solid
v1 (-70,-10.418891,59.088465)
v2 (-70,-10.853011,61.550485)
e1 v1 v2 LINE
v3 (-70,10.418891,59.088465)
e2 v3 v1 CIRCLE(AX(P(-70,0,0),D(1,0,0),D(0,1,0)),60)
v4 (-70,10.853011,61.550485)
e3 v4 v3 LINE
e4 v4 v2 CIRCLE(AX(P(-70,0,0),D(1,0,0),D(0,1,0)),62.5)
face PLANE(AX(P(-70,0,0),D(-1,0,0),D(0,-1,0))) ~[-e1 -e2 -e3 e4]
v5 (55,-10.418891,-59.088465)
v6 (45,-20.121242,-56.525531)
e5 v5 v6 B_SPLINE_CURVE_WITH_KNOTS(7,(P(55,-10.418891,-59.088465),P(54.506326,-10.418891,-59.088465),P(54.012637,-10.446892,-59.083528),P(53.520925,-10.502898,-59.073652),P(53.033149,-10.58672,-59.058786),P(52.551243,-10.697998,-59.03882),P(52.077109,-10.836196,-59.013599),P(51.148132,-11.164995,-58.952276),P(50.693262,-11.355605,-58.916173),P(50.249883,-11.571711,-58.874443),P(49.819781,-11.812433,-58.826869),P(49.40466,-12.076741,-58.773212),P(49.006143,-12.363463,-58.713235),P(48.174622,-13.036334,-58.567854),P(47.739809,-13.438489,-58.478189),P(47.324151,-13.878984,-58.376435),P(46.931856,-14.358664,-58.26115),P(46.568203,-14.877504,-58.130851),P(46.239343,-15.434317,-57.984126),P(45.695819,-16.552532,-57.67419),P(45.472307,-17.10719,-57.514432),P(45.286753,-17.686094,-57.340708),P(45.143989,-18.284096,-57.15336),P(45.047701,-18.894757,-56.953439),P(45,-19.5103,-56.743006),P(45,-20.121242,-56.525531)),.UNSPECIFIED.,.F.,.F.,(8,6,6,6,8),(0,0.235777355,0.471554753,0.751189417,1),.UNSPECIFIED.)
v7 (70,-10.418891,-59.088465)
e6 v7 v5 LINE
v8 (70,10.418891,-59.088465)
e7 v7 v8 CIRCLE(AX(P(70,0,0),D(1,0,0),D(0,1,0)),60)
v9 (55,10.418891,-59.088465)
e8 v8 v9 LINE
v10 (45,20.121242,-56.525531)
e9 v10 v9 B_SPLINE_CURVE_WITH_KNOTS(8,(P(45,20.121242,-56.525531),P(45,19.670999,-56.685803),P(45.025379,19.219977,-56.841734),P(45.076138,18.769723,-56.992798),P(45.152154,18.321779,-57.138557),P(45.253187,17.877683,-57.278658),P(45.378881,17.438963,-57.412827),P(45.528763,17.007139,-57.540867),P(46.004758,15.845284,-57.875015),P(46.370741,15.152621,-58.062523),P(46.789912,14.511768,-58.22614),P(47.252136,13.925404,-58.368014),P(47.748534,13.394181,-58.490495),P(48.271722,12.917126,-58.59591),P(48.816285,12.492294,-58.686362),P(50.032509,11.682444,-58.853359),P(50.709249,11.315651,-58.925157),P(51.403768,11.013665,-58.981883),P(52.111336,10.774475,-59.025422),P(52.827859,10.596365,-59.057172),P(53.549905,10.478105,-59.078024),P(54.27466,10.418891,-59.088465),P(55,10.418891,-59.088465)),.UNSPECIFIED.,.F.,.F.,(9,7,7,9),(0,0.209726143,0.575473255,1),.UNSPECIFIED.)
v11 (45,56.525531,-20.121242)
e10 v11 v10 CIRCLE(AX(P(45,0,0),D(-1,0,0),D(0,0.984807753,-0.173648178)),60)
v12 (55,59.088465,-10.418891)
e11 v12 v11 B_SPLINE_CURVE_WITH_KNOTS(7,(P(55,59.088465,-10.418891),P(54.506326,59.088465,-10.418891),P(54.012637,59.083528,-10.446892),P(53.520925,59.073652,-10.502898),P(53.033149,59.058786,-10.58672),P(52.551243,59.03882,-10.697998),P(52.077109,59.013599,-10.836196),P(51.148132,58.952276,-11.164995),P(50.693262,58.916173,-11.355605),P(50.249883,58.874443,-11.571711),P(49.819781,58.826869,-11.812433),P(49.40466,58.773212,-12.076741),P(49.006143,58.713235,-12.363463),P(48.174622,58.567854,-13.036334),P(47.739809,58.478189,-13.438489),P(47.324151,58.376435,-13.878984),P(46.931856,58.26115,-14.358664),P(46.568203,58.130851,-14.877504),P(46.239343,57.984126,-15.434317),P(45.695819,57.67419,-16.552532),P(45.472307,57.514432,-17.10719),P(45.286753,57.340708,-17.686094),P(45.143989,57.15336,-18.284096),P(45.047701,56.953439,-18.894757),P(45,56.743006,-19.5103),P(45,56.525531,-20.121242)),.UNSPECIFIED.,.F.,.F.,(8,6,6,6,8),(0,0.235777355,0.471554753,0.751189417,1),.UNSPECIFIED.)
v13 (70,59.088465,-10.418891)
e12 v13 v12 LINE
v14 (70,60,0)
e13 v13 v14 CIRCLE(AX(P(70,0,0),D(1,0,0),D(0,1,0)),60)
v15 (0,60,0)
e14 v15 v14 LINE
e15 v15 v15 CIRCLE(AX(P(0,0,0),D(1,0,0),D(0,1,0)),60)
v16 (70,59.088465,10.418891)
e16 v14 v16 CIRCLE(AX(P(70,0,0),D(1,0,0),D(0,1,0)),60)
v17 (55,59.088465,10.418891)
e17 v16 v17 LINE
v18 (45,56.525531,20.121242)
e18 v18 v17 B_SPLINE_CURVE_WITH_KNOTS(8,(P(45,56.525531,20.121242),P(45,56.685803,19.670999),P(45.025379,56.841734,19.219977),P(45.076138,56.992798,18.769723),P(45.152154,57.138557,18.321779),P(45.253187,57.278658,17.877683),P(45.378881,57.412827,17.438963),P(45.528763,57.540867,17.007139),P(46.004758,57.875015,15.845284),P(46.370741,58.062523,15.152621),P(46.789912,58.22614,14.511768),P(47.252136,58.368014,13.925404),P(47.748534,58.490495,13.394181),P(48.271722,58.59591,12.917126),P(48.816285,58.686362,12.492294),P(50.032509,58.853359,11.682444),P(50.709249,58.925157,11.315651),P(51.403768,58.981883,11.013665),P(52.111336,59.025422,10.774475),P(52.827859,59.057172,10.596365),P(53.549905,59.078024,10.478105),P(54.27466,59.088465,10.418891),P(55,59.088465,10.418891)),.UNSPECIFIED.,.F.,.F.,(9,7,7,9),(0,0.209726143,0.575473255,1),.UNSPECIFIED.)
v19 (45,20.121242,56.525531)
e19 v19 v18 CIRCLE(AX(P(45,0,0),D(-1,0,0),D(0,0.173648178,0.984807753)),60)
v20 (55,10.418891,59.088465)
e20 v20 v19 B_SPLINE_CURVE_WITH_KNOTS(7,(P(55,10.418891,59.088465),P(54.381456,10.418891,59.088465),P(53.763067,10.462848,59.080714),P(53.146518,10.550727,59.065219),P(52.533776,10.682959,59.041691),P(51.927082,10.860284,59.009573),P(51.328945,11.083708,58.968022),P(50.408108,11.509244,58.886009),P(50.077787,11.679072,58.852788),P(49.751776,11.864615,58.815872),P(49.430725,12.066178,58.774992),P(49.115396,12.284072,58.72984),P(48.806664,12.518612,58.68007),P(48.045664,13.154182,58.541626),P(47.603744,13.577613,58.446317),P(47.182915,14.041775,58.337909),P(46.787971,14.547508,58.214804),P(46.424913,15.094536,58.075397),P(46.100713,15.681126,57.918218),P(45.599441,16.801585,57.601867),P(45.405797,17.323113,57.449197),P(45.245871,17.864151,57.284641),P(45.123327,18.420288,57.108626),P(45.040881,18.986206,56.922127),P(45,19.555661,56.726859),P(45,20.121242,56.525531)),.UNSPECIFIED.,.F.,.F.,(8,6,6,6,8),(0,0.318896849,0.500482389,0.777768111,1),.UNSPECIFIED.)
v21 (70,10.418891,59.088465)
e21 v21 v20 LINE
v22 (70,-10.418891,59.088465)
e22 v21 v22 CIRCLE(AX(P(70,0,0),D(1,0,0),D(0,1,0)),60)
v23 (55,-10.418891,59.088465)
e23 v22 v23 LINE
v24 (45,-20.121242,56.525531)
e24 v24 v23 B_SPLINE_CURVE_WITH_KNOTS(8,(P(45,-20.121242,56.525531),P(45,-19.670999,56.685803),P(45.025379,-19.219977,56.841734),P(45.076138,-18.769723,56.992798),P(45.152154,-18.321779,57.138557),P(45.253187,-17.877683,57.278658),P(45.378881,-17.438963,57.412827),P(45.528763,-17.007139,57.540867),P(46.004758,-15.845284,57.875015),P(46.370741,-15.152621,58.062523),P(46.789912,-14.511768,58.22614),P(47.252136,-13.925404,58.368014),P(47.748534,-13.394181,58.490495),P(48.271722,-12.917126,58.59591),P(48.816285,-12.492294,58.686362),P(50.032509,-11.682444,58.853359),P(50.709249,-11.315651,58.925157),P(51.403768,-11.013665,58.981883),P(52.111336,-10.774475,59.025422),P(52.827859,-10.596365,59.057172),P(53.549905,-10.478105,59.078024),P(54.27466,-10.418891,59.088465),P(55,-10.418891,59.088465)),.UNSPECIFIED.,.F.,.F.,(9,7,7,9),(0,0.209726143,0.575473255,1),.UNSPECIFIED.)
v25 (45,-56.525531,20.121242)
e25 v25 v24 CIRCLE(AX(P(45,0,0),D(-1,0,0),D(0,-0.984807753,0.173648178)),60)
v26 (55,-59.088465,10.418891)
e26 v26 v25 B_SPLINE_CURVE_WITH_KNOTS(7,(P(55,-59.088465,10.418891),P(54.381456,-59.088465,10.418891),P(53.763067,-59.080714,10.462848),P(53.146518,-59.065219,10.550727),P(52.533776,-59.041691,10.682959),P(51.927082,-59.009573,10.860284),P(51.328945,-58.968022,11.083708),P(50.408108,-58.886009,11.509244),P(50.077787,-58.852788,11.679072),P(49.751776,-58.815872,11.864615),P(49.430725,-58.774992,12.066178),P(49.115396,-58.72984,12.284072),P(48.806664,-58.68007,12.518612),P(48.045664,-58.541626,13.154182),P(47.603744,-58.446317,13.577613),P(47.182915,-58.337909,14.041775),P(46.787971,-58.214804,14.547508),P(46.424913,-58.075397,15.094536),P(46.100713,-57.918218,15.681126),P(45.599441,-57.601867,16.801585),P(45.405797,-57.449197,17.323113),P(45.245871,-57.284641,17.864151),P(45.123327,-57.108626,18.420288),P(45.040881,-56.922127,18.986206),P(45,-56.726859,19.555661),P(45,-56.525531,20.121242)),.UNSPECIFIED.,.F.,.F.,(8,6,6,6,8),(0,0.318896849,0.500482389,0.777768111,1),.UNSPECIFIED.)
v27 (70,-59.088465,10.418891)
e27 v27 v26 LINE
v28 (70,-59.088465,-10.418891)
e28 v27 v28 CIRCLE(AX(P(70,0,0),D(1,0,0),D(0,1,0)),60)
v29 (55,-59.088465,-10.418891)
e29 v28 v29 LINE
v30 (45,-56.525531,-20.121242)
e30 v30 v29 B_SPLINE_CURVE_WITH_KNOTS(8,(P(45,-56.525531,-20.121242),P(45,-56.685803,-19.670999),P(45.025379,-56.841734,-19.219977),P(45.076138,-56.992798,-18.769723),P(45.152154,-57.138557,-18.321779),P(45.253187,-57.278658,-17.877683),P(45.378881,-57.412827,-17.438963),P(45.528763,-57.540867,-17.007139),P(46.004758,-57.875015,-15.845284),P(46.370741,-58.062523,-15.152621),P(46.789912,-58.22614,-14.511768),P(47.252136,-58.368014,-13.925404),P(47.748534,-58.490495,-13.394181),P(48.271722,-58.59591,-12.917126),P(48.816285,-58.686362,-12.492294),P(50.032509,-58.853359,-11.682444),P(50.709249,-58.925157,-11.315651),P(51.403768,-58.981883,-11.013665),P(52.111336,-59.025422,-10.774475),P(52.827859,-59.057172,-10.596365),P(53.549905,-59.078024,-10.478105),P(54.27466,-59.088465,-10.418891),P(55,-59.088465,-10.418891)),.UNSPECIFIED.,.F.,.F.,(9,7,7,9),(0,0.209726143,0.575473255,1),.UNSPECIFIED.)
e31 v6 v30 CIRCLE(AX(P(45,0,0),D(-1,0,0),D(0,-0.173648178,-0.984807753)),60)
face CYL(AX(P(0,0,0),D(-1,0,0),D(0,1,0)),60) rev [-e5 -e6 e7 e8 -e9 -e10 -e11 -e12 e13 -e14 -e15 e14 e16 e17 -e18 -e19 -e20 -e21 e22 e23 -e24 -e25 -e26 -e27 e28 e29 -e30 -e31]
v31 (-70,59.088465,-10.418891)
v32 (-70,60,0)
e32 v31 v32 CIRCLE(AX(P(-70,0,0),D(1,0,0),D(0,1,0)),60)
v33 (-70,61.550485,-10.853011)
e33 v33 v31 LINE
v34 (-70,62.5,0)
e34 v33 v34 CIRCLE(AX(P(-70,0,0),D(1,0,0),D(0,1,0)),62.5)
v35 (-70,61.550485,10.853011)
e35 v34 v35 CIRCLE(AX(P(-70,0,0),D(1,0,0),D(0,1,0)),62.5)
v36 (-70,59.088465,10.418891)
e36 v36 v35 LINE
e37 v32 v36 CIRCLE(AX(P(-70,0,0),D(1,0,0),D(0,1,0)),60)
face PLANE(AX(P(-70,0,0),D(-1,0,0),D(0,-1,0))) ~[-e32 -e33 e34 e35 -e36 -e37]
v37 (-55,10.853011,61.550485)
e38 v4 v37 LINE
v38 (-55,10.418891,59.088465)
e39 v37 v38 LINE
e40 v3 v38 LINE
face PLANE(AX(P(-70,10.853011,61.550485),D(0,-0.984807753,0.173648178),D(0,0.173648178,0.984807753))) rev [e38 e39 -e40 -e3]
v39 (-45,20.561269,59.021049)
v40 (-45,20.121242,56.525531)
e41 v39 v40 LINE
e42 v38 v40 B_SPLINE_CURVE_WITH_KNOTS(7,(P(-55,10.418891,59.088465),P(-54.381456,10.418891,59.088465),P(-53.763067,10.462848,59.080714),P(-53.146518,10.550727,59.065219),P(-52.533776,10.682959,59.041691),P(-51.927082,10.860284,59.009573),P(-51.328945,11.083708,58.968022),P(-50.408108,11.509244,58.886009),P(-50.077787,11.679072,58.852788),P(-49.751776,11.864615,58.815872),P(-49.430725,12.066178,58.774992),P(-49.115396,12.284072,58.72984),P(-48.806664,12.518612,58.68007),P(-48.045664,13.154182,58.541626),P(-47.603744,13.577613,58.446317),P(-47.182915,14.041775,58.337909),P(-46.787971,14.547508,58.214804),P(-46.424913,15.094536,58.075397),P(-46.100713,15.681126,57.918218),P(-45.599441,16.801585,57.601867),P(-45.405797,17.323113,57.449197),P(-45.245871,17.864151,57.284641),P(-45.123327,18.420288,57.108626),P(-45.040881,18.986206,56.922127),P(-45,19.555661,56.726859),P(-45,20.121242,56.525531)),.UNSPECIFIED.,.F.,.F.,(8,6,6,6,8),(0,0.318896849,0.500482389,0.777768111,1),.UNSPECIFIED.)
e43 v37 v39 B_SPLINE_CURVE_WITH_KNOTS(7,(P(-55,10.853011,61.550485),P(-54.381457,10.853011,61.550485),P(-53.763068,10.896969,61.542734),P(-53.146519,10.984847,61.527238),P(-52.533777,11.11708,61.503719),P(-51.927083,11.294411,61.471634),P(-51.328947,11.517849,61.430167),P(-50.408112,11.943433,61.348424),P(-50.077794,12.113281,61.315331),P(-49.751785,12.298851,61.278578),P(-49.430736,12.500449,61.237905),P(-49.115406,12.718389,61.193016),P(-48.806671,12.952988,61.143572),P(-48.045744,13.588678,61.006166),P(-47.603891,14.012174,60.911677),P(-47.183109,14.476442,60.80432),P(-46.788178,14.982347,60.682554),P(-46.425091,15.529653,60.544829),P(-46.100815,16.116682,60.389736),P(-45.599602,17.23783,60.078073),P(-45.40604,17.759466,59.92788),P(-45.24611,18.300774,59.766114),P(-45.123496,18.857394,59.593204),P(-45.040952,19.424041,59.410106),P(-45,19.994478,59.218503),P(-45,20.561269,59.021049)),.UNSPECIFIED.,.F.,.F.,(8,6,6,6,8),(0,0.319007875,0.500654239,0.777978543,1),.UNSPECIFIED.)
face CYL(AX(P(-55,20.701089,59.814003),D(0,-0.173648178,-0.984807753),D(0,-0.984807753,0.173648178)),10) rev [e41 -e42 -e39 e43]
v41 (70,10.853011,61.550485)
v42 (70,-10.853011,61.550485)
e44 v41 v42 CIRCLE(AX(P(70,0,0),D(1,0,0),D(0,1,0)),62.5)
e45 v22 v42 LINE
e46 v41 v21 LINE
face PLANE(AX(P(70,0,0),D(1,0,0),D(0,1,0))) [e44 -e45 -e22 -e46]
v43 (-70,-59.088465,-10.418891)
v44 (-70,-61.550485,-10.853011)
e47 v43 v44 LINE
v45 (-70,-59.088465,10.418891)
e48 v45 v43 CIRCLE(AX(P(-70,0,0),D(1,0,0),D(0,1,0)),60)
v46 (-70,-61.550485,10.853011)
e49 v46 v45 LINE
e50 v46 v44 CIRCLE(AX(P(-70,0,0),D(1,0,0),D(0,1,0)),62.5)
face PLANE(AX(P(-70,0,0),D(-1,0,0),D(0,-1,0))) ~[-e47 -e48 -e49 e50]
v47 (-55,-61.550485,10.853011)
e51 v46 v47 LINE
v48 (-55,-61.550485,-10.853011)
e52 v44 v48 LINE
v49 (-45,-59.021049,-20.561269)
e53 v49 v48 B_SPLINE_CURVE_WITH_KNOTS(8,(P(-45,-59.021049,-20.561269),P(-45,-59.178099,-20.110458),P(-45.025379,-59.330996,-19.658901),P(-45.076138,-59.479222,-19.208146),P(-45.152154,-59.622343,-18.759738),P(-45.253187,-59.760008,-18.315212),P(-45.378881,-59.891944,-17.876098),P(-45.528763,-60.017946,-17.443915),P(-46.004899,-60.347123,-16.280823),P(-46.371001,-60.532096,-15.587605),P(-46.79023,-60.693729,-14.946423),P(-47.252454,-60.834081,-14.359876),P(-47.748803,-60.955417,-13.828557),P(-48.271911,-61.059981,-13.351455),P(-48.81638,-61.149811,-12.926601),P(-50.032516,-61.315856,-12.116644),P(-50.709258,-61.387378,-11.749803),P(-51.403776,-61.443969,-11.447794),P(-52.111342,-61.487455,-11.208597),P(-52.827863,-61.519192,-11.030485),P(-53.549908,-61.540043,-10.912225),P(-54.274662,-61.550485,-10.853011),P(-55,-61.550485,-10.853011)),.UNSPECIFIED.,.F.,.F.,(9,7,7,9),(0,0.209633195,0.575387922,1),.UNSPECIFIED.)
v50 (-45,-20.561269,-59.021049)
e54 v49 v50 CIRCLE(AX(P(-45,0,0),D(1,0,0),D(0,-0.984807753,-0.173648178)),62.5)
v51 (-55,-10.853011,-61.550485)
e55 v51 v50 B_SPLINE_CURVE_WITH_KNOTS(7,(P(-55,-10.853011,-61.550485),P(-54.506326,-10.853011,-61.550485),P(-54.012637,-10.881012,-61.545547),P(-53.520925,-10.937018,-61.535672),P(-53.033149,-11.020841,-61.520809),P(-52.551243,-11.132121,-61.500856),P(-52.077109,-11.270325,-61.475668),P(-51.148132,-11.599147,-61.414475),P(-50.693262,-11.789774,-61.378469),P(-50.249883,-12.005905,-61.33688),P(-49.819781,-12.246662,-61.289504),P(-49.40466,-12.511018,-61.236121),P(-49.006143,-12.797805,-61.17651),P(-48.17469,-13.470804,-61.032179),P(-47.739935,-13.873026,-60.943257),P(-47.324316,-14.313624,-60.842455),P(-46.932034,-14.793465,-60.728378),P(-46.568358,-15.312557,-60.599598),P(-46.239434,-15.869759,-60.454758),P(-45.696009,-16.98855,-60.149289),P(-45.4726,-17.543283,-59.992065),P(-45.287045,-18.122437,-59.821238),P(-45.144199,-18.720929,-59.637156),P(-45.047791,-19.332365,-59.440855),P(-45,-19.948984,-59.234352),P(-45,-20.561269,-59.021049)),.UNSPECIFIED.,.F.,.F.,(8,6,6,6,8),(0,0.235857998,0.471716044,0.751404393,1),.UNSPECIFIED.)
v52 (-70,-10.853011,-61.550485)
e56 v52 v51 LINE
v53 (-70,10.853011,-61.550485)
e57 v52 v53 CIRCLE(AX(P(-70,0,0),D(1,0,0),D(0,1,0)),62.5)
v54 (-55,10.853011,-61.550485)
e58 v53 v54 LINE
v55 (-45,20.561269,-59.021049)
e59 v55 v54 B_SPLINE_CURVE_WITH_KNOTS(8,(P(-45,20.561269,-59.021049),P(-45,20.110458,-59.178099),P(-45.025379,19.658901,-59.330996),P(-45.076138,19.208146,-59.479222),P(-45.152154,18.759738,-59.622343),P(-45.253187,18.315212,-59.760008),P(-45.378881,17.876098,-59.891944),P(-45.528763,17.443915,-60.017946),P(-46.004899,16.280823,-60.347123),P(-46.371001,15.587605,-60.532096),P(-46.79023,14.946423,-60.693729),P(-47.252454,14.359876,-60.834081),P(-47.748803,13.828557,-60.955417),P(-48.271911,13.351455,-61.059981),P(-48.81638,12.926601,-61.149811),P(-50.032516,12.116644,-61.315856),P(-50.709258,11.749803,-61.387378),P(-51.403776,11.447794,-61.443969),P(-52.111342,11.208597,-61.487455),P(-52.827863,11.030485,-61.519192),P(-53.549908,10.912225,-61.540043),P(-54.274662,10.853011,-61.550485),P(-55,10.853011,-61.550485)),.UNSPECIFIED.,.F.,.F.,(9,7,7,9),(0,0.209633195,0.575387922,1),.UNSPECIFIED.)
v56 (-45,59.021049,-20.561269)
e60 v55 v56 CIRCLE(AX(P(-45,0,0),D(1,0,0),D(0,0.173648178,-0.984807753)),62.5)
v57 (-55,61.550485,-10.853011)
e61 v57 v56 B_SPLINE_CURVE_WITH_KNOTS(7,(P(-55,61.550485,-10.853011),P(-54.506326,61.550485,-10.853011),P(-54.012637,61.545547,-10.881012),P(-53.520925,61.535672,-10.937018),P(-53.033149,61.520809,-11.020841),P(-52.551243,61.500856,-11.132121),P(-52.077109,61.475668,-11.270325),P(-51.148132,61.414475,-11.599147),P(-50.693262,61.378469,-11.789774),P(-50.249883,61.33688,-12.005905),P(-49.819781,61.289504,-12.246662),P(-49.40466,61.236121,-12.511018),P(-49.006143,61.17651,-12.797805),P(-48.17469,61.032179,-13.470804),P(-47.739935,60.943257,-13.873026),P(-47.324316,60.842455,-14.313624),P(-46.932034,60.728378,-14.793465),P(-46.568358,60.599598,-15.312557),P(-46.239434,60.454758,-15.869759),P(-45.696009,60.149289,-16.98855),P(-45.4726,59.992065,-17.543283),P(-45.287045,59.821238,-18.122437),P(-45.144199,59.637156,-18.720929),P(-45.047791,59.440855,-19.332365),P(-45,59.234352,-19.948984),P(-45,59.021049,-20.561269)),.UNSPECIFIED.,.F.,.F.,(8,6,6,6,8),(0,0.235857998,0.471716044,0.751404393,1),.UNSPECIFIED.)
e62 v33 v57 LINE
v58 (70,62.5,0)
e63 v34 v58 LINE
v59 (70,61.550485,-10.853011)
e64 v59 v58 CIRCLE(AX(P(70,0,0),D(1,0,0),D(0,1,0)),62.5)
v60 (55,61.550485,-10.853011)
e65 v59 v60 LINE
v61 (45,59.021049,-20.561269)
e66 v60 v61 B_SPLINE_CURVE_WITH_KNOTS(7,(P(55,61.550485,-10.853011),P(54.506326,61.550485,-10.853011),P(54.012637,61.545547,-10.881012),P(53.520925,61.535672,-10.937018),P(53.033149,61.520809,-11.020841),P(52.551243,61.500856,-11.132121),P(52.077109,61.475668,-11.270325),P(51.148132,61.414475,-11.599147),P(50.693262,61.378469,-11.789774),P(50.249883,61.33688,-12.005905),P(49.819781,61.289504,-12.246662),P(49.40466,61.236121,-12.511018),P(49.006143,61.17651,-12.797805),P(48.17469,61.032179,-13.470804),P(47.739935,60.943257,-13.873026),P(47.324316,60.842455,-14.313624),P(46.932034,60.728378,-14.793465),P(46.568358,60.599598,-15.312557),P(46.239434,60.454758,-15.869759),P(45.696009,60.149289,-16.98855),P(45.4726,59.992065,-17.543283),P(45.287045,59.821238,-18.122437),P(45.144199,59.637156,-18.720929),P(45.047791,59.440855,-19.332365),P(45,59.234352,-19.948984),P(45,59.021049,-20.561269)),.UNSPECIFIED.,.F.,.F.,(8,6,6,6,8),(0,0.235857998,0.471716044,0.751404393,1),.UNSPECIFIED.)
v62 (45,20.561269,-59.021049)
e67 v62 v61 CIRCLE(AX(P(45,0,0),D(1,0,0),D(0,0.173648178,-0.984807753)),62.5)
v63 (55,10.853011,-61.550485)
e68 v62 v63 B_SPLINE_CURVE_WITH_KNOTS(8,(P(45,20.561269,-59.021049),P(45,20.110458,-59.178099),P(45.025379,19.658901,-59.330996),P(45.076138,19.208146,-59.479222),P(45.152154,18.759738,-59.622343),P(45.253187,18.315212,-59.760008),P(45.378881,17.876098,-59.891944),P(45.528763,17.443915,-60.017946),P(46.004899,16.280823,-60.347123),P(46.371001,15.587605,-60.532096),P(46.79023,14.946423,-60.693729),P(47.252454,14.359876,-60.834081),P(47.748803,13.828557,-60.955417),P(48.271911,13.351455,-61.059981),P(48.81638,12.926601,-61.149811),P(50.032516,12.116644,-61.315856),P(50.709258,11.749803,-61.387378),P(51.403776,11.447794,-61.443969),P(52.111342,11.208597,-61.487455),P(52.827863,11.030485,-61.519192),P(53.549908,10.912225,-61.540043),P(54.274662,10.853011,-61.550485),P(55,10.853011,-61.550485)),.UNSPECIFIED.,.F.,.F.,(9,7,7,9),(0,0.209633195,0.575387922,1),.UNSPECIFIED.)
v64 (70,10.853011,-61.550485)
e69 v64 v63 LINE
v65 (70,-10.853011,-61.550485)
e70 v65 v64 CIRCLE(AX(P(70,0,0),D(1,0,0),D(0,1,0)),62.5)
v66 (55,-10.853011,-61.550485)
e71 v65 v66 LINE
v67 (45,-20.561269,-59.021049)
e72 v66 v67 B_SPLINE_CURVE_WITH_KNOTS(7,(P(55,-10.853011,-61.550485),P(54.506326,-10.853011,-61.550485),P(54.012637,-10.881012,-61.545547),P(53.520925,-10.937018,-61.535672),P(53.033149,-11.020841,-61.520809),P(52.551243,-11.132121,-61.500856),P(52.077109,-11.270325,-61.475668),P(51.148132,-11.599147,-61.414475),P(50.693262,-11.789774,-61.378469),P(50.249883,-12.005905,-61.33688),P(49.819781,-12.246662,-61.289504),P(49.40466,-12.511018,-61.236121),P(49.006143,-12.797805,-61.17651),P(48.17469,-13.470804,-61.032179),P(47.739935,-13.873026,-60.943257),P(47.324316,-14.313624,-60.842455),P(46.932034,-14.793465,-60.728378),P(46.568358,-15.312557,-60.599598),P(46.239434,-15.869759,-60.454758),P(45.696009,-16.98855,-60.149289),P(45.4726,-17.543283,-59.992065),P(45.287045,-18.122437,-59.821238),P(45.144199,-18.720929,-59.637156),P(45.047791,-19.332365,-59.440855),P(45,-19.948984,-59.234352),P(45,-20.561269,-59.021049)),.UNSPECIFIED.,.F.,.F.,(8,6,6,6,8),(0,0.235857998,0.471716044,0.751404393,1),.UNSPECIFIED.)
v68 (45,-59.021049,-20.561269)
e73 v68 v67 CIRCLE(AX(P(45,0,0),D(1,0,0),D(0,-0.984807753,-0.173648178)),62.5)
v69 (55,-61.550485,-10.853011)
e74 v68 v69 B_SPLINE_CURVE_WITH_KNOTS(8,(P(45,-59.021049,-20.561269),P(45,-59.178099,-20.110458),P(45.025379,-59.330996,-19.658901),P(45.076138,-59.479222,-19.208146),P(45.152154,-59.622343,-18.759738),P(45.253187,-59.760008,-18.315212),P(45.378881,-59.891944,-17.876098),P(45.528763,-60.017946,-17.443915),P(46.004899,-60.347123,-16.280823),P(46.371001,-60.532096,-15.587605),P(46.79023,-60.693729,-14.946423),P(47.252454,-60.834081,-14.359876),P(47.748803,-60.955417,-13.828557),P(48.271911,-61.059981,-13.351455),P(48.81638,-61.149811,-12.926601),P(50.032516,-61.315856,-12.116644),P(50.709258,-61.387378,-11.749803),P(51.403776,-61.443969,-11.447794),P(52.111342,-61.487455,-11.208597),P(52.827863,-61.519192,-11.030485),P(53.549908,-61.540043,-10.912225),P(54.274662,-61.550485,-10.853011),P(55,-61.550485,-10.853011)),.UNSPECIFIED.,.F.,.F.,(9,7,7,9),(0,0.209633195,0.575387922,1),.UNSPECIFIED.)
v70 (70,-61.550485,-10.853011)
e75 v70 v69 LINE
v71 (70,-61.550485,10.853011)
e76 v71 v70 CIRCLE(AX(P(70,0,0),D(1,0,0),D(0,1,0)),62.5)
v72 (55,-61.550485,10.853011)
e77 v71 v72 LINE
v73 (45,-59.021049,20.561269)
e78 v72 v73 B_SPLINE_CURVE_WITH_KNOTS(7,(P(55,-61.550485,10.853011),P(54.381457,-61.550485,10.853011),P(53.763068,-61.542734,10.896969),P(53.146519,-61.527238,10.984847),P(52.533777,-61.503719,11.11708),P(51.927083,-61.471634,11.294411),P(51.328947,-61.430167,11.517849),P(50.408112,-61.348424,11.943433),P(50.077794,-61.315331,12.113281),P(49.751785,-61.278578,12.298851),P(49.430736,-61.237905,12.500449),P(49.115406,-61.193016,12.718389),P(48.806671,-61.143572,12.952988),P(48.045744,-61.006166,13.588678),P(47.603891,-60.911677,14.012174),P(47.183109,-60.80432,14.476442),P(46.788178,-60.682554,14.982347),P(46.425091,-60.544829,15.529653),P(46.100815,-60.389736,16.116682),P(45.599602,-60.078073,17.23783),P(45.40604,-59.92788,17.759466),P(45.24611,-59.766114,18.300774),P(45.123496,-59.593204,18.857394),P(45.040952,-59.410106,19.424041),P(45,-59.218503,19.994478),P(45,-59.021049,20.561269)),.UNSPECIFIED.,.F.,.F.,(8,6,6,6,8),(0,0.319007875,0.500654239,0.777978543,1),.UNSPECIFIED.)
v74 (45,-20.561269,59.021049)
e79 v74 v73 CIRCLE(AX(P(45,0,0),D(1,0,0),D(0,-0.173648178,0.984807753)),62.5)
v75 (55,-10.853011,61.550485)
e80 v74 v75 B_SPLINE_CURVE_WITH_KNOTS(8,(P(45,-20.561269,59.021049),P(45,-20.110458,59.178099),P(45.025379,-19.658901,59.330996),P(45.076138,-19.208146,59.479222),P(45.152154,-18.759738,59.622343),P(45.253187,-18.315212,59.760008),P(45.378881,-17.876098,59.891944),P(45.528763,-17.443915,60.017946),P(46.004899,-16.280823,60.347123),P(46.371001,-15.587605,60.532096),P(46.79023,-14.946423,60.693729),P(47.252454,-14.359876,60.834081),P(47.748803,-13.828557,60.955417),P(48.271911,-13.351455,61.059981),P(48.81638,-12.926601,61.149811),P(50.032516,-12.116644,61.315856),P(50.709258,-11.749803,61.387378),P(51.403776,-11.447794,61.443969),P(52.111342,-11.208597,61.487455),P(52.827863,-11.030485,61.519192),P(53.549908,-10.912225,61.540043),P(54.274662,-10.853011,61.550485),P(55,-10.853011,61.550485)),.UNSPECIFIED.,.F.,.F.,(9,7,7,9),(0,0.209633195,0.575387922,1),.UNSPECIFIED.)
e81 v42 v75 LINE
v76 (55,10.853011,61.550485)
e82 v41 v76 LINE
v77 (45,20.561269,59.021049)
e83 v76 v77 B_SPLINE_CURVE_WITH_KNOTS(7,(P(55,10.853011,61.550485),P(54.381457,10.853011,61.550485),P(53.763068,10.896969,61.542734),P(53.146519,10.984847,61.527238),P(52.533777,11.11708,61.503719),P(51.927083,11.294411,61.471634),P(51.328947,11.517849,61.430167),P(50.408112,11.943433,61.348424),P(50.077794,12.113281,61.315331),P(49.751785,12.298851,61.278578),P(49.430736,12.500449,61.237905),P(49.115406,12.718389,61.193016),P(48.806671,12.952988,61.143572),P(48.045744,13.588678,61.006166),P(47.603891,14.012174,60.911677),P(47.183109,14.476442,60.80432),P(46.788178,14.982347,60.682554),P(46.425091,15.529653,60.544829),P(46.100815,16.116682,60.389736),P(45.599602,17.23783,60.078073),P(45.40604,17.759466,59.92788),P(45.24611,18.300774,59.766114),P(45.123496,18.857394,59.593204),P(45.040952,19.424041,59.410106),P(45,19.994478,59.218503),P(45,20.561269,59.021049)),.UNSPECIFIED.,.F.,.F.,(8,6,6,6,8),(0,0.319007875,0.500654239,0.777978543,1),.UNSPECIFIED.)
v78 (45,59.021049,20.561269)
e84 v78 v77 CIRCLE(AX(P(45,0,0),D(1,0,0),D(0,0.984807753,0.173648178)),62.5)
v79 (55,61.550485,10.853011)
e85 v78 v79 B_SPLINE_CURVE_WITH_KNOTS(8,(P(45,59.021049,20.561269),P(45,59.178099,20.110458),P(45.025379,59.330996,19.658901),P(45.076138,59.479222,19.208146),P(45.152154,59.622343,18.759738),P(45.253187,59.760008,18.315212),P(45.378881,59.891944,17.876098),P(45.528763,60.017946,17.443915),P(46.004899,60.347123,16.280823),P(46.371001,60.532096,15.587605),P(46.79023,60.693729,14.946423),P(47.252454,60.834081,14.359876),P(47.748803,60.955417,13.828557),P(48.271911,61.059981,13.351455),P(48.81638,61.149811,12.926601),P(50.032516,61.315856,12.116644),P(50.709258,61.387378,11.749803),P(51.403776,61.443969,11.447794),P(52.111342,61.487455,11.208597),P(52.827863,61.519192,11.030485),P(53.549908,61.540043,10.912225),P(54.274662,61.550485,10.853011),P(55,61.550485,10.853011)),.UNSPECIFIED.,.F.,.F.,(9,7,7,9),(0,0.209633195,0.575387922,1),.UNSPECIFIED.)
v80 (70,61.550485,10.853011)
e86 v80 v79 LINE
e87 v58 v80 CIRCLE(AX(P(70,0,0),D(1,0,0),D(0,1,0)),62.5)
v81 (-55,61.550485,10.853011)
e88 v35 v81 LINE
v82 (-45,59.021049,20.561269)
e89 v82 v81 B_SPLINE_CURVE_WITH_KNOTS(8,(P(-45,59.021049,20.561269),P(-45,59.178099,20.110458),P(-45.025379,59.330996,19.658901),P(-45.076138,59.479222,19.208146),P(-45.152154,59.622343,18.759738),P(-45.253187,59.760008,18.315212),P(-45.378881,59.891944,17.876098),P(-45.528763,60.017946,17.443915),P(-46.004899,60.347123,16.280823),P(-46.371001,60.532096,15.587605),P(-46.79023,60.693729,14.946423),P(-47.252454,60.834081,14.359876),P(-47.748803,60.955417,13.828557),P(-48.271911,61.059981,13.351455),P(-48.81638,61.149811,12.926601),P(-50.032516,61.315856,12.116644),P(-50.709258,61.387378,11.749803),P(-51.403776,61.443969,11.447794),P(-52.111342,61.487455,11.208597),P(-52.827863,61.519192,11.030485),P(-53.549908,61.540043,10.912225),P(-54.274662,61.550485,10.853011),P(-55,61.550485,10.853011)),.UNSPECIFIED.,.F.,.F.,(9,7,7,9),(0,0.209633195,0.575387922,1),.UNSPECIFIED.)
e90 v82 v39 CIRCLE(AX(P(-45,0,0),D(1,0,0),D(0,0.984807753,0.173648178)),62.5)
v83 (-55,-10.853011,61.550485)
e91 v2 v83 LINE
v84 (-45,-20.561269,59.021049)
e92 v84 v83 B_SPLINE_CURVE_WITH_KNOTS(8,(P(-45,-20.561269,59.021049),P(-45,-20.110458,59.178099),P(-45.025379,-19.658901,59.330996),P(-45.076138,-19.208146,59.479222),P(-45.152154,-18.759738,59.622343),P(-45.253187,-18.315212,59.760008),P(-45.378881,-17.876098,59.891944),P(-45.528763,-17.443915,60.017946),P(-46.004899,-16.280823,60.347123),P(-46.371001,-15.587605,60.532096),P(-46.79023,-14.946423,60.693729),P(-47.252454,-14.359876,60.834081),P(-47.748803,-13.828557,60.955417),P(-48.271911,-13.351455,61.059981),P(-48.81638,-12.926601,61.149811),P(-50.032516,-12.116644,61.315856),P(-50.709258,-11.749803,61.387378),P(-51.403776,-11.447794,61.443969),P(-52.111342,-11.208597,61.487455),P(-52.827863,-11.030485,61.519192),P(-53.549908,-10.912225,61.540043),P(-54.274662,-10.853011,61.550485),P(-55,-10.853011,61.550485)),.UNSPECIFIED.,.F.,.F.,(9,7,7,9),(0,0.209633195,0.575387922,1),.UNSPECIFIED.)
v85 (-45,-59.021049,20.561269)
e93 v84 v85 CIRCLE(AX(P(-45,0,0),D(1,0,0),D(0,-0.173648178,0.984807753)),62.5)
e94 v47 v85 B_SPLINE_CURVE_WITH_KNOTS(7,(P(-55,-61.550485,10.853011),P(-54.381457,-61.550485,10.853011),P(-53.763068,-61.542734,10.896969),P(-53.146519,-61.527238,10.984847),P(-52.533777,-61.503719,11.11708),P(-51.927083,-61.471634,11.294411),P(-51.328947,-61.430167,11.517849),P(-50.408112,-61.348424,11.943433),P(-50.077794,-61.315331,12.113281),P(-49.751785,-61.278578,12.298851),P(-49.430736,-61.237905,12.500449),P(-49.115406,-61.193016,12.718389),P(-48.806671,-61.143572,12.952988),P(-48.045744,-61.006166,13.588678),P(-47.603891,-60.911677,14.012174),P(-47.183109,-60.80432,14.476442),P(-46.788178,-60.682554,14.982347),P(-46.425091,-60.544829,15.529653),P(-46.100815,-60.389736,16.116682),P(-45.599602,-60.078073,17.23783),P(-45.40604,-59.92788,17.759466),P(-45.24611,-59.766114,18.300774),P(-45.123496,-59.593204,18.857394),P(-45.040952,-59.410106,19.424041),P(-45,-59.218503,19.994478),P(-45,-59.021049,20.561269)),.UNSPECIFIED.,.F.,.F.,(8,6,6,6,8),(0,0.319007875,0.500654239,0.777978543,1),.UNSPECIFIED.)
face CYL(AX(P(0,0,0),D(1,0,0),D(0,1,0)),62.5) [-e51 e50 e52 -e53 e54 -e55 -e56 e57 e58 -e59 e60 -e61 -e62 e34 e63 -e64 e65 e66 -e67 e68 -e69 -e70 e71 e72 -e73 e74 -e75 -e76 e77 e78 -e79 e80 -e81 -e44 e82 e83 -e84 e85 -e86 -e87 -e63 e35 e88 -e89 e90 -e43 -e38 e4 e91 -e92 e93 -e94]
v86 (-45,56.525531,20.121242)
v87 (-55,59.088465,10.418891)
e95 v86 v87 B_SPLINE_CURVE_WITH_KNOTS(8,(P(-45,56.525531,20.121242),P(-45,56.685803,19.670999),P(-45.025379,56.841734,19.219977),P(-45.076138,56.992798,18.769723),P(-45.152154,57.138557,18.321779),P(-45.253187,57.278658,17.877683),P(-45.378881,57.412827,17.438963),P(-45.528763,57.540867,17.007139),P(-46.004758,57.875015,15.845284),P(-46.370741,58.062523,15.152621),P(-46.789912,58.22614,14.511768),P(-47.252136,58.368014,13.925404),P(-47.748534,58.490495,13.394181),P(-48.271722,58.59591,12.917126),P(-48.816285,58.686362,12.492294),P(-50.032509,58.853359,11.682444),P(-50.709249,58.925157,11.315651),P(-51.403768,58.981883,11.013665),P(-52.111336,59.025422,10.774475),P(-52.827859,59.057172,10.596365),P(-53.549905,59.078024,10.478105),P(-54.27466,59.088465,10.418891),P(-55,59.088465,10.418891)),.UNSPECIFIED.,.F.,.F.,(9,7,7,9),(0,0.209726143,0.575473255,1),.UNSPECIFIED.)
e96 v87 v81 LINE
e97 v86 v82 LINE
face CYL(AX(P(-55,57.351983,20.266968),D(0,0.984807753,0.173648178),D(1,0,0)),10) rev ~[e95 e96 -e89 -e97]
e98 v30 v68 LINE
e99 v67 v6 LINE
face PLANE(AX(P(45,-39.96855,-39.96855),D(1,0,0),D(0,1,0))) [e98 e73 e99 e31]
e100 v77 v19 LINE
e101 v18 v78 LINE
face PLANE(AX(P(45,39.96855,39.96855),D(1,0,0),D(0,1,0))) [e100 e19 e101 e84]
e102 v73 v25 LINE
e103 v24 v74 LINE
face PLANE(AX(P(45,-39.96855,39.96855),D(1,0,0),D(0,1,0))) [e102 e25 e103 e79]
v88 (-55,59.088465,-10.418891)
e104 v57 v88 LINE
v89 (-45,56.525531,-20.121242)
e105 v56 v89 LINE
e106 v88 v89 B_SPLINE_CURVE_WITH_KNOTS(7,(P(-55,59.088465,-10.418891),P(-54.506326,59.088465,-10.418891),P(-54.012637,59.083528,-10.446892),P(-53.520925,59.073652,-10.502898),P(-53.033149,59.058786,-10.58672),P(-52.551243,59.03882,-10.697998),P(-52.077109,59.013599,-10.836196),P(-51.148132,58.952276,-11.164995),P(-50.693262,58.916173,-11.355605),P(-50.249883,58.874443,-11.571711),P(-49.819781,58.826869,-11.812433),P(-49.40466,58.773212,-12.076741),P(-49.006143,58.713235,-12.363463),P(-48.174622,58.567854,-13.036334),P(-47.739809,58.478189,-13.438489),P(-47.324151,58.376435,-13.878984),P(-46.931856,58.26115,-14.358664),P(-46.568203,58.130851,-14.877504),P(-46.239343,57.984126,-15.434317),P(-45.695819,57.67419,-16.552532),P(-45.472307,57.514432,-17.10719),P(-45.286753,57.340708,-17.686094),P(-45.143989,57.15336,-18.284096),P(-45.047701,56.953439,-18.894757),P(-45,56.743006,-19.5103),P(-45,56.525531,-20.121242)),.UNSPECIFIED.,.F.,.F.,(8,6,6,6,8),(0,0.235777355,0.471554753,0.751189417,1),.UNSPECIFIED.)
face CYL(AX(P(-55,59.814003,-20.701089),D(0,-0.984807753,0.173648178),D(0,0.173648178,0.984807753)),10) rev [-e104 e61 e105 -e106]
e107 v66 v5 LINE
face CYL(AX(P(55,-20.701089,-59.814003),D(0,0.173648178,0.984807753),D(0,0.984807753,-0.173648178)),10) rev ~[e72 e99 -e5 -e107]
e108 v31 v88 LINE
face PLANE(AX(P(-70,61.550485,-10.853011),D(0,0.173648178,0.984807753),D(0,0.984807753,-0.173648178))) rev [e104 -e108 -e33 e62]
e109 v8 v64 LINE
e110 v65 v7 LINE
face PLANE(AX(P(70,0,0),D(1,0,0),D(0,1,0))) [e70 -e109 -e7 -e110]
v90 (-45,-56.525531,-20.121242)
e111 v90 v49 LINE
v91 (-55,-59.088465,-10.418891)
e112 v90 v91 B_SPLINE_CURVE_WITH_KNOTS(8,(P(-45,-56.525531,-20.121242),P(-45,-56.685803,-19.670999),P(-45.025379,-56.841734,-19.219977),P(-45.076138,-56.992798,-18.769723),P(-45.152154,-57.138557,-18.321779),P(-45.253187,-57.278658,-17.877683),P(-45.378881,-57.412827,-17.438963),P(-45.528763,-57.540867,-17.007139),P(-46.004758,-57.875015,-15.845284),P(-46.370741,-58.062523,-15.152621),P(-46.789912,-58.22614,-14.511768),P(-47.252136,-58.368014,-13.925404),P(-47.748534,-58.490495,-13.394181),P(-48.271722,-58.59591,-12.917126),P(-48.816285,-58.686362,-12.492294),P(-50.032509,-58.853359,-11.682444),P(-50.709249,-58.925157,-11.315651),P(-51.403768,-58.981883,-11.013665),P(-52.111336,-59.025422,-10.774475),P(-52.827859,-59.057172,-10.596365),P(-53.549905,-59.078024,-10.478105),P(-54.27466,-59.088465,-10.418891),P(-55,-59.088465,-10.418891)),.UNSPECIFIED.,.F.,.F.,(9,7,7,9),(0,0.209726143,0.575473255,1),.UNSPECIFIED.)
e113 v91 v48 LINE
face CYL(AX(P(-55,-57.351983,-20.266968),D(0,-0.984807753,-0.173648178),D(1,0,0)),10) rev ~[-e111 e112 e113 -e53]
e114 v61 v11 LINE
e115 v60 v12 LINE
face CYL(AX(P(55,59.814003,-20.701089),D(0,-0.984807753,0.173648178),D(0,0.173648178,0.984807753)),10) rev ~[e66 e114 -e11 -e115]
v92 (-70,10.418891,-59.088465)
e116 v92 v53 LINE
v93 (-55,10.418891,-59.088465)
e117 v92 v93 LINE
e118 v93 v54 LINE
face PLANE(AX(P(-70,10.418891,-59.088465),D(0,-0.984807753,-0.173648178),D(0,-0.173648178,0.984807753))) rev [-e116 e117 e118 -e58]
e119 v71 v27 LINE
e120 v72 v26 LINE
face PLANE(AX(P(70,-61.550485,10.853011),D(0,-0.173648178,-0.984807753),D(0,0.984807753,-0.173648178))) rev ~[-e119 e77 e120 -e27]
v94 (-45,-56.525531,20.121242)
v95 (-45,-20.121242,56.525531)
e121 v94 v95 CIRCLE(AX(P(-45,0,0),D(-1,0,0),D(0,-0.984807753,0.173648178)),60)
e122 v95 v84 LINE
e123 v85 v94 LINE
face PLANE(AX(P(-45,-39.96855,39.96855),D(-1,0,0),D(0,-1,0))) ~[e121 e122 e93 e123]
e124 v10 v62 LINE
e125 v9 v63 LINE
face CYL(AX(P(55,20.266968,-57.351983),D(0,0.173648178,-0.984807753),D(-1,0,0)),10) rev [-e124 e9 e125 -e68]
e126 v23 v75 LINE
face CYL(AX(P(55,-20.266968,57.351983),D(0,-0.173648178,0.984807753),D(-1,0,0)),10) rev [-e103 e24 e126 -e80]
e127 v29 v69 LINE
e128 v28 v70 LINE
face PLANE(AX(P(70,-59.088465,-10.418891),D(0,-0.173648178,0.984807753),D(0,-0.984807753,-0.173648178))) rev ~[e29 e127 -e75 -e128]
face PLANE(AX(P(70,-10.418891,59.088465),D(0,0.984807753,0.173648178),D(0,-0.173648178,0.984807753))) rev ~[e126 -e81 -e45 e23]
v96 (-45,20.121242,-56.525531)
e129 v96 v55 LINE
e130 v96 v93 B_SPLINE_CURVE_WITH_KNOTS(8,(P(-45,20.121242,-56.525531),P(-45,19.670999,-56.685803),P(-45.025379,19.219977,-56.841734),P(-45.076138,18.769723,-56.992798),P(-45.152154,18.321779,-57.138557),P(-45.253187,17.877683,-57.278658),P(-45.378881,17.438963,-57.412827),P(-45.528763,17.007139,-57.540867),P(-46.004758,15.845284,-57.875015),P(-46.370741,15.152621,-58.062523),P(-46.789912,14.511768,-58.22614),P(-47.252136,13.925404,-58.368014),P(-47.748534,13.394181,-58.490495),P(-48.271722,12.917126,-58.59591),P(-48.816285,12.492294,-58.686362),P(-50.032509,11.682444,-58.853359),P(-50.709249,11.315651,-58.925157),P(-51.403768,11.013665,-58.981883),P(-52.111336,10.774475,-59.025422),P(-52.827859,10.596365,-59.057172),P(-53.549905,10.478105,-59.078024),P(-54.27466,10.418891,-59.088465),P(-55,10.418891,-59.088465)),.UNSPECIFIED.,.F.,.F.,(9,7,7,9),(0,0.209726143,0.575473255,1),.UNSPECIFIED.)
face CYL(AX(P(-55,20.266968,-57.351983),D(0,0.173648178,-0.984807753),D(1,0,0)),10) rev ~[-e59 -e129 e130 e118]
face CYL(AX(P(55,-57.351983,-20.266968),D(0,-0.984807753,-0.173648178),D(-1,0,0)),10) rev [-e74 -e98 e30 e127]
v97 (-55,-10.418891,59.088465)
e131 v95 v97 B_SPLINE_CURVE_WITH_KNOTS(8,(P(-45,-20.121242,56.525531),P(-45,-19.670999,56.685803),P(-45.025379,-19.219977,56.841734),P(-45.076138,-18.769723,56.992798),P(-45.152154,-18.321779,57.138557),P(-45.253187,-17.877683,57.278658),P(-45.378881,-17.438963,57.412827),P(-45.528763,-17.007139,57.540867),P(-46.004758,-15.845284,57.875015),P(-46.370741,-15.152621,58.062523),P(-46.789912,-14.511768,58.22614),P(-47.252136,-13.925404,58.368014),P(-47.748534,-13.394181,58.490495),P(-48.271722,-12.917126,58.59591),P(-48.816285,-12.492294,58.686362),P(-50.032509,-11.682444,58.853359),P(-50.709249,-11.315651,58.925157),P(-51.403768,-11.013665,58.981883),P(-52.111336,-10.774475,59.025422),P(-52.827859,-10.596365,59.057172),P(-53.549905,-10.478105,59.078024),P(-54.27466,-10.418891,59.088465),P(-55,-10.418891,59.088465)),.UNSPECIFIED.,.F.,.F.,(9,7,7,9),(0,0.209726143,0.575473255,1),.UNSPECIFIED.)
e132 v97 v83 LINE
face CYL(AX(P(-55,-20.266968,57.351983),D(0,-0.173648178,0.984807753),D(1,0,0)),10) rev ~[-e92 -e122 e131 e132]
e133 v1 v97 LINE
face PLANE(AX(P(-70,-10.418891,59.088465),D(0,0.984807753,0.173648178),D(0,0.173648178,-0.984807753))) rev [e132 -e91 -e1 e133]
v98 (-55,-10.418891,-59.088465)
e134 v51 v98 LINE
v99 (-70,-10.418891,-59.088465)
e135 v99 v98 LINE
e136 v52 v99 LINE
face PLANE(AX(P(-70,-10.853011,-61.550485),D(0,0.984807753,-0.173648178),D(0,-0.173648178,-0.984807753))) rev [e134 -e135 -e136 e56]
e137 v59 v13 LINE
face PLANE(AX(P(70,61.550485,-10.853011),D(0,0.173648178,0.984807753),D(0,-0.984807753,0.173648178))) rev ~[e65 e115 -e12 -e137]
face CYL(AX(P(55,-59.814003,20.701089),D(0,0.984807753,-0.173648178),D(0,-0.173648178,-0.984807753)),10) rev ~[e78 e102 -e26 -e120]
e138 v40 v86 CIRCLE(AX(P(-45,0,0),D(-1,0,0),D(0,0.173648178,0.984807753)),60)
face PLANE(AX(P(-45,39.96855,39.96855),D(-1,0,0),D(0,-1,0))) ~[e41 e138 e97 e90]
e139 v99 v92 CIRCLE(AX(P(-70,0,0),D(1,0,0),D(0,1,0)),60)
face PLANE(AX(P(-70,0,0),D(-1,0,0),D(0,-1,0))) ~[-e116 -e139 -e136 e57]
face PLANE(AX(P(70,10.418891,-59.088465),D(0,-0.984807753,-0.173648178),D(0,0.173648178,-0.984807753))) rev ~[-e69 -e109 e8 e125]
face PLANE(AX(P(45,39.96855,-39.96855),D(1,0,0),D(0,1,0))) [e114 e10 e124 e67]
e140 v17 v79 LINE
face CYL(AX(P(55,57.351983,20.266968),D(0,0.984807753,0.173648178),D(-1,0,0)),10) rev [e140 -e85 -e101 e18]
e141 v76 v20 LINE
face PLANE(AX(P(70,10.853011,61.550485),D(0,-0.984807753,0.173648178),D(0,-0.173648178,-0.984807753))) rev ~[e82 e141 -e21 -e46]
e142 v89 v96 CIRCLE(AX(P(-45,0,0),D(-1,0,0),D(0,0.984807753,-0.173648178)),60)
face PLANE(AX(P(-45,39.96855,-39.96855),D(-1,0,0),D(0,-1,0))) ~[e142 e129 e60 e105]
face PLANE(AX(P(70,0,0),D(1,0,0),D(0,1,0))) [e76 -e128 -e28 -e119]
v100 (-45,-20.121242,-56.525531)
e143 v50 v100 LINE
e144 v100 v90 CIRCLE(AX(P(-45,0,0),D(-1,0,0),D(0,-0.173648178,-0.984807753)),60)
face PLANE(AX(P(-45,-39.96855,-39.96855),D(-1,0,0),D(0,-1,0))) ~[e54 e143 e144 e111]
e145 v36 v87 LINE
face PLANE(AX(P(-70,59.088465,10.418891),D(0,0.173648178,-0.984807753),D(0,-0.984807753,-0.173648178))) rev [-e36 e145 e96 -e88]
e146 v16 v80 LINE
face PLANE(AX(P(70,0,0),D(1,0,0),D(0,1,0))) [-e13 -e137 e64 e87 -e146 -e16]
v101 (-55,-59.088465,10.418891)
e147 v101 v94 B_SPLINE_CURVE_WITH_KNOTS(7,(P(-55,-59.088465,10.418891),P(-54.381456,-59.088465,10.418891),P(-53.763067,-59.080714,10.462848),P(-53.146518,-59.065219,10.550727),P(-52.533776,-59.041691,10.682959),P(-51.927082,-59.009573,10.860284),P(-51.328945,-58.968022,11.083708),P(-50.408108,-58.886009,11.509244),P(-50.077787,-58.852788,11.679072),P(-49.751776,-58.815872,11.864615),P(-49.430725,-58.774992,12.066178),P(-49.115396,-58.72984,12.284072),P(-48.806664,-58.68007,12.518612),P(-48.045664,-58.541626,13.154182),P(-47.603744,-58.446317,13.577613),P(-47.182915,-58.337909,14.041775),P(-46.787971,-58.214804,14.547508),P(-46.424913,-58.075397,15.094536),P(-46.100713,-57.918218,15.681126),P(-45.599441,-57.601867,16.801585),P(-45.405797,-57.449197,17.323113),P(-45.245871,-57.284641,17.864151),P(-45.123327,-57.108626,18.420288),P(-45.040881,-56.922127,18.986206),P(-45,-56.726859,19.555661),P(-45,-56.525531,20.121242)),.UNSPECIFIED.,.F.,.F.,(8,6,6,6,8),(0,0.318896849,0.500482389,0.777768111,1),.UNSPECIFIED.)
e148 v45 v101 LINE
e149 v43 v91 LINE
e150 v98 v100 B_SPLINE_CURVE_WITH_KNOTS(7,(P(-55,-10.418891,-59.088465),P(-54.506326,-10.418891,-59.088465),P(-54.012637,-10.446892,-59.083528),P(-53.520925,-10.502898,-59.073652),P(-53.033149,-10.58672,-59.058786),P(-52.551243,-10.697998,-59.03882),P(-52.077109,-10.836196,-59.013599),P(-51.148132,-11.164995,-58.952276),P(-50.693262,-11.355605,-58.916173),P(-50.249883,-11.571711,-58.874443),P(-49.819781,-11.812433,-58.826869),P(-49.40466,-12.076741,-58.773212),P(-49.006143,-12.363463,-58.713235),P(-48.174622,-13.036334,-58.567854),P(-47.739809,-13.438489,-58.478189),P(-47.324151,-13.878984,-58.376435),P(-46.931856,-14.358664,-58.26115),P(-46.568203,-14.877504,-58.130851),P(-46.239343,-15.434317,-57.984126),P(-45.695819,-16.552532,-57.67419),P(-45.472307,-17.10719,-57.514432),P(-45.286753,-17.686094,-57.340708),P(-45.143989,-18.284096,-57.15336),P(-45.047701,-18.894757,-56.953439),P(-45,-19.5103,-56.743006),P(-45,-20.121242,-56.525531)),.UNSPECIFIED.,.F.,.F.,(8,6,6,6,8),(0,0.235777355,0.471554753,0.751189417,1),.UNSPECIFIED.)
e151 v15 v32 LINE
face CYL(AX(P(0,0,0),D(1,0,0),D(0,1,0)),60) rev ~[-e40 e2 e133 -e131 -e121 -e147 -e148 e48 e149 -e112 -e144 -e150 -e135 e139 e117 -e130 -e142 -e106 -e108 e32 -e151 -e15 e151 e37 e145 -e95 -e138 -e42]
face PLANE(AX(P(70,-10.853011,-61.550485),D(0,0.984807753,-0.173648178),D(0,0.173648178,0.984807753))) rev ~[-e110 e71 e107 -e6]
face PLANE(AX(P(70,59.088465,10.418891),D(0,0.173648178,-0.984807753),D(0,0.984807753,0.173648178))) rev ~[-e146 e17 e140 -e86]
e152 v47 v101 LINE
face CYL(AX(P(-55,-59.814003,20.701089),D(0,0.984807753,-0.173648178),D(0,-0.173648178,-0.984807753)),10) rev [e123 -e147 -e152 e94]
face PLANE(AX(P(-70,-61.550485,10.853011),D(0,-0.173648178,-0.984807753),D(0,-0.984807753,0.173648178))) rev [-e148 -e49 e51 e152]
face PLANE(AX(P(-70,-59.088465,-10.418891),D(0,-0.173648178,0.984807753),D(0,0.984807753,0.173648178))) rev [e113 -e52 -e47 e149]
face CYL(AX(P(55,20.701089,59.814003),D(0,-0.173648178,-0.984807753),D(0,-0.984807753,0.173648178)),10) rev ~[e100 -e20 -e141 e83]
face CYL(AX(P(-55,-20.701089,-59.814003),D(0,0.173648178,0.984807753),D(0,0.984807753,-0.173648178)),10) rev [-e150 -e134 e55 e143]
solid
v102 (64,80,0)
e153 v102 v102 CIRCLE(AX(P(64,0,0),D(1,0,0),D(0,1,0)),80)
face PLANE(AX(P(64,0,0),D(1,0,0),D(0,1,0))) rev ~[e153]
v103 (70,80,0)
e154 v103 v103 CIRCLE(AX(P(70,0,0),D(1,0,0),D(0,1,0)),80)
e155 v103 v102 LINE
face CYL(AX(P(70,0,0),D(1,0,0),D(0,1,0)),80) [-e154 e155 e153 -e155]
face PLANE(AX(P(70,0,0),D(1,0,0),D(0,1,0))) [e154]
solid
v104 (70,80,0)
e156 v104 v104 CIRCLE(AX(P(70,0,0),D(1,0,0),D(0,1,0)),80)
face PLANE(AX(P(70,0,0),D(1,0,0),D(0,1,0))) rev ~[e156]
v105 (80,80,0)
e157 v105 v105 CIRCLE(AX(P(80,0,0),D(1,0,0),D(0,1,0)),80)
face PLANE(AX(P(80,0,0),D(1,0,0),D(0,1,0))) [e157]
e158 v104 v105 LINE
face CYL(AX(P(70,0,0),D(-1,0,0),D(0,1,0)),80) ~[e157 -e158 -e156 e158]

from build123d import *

# Parameters (mm, degrees)
F0_R     = 62.5
F0_R_2   = 60
F1_DEPTH = 70
F2_R     = 80
F2_R_2   = 62.5
F2_R_3   = 60
F3_DEPTH = 6
F4_DEPTH = 10
F6_DEPTH = 25
F7_R     = 10


with BuildPart() as f1:
    # F0 (on Right) → F1 (new body)
    with BuildSketch(Plane.YZ):
        Circle(F0_R)
        Circle(F0_R_2, mode=Mode.SUBTRACT)
    extrude(amount=F1_DEPTH)

    # F5 (on face) → F6 (cut)
    with BuildSketch(Plane.YZ.offset(70)):
        with BuildLine():
            Line((61.5504845633, -10.8530111042), (59.0884651807, -10.41889066))
            ThreePointArc((59.0884651807, -10.41889066), (42.4264068712, -42.4264068712), (10.41889066, -59.0884651807))
            Line((10.41889066, -59.0884651807), (10.8530111042, -61.5504845633))
            ThreePointArc((10.8530111042, -61.5504845633), (44.1941738242, -44.1941738242), (61.5504845633, -10.8530111042))
        make_face()
        with BuildLine():
            Line((-10.8530111042, -61.5504845633), (-10.41889066, -59.0884651807))
            ThreePointArc((-10.41889066, -59.0884651807), (-42.4264068712, -42.4264068712), (-59.0884651807, -10.41889066))
            Line((-59.0884651807, -10.41889066), (-61.5504845633, -10.8530111042))
            ThreePointArc((-61.5504845633, -10.8530111042), (-44.1941738242, -44.1941738242), (-10.8530111042, -61.5504845633))
        make_face()
        with BuildLine():
            Line((-61.5504845633, 10.8530111042), (-59.0884651807, 10.41889066))
            ThreePointArc((-59.0884651807, 10.41889066), (-42.4264068712, 42.4264068712), (-10.41889066, 59.0884651807))
            Line((-10.41889066, 59.0884651807), (-10.8530111042, 61.5504845633))
            ThreePointArc((-10.8530111042, 61.5504845633), (-44.1941738242, 44.1941738242), (-61.5504845633, 10.8530111042))
        make_face()
        with BuildLine():
            Line((10.8530111042, 61.5504845633), (10.41889066, 59.0884651807))
            ThreePointArc((10.41889066, 59.0884651807), (42.4264068712, 42.4264068712), (59.0884651807, 10.41889066))
            Line((59.0884651807, 10.41889066), (61.5504845633, 10.8530111042))
            ThreePointArc((61.5504845633, 10.8530111042), (44.1941738242, 44.1941738242), (10.8530111042, 61.5504845633))
        make_face()
    extrude(amount=-F6_DEPTH, mode=Mode.SUBTRACT)

    # F7
    f7_edges = [f1.edges().sort_by_distance(p)[0] for p in [
        (45, 60.319475, -10.635951),
        (45, 10.635951, -60.319475),
        (45, -60.319475, -10.635951),
        (45, 10.635951, 60.319475),
        (45, 60.319475, 10.635951),
        (45, -60.319475, 10.635951),
        (45, -10.635951, 60.319475),
        (45, -10.635951, -60.319475),
    ]]
    fillet(f7_edges, radius=F7_R)

    # F8: F1 across plane


with BuildPart() as f3:
    # F2 (on face) → F3 (new body)
    with BuildSketch(Plane.YZ.offset(70)):
        Circle(F2_R)
        Circle(F2_R_2, mode=Mode.SUBTRACT)
        Circle(F2_R_2)
        Circle(F2_R_3, mode=Mode.SUBTRACT)
        Circle(F2_R_3)
    extrude(amount=-F3_DEPTH)


with BuildPart() as f4:
    # F2 (on face) → F4 (new body)
    with BuildSketch(Plane.YZ.offset(70)):
        Circle(F2_R)
        Circle(F2_R_2, mode=Mode.SUBTRACT)
        Circle(F2_R_2)
        Circle(F2_R_3, mode=Mode.SUBTRACT)
        Circle(F2_R_3)
    extrude(amount=F4_DEPTH)


with BuildPart() as f1_1:
    add(f1.part)
    add(f1.part.mirror(Plane.YZ))


solid = Compound([f3.part, f4.part, f1_1.part])
